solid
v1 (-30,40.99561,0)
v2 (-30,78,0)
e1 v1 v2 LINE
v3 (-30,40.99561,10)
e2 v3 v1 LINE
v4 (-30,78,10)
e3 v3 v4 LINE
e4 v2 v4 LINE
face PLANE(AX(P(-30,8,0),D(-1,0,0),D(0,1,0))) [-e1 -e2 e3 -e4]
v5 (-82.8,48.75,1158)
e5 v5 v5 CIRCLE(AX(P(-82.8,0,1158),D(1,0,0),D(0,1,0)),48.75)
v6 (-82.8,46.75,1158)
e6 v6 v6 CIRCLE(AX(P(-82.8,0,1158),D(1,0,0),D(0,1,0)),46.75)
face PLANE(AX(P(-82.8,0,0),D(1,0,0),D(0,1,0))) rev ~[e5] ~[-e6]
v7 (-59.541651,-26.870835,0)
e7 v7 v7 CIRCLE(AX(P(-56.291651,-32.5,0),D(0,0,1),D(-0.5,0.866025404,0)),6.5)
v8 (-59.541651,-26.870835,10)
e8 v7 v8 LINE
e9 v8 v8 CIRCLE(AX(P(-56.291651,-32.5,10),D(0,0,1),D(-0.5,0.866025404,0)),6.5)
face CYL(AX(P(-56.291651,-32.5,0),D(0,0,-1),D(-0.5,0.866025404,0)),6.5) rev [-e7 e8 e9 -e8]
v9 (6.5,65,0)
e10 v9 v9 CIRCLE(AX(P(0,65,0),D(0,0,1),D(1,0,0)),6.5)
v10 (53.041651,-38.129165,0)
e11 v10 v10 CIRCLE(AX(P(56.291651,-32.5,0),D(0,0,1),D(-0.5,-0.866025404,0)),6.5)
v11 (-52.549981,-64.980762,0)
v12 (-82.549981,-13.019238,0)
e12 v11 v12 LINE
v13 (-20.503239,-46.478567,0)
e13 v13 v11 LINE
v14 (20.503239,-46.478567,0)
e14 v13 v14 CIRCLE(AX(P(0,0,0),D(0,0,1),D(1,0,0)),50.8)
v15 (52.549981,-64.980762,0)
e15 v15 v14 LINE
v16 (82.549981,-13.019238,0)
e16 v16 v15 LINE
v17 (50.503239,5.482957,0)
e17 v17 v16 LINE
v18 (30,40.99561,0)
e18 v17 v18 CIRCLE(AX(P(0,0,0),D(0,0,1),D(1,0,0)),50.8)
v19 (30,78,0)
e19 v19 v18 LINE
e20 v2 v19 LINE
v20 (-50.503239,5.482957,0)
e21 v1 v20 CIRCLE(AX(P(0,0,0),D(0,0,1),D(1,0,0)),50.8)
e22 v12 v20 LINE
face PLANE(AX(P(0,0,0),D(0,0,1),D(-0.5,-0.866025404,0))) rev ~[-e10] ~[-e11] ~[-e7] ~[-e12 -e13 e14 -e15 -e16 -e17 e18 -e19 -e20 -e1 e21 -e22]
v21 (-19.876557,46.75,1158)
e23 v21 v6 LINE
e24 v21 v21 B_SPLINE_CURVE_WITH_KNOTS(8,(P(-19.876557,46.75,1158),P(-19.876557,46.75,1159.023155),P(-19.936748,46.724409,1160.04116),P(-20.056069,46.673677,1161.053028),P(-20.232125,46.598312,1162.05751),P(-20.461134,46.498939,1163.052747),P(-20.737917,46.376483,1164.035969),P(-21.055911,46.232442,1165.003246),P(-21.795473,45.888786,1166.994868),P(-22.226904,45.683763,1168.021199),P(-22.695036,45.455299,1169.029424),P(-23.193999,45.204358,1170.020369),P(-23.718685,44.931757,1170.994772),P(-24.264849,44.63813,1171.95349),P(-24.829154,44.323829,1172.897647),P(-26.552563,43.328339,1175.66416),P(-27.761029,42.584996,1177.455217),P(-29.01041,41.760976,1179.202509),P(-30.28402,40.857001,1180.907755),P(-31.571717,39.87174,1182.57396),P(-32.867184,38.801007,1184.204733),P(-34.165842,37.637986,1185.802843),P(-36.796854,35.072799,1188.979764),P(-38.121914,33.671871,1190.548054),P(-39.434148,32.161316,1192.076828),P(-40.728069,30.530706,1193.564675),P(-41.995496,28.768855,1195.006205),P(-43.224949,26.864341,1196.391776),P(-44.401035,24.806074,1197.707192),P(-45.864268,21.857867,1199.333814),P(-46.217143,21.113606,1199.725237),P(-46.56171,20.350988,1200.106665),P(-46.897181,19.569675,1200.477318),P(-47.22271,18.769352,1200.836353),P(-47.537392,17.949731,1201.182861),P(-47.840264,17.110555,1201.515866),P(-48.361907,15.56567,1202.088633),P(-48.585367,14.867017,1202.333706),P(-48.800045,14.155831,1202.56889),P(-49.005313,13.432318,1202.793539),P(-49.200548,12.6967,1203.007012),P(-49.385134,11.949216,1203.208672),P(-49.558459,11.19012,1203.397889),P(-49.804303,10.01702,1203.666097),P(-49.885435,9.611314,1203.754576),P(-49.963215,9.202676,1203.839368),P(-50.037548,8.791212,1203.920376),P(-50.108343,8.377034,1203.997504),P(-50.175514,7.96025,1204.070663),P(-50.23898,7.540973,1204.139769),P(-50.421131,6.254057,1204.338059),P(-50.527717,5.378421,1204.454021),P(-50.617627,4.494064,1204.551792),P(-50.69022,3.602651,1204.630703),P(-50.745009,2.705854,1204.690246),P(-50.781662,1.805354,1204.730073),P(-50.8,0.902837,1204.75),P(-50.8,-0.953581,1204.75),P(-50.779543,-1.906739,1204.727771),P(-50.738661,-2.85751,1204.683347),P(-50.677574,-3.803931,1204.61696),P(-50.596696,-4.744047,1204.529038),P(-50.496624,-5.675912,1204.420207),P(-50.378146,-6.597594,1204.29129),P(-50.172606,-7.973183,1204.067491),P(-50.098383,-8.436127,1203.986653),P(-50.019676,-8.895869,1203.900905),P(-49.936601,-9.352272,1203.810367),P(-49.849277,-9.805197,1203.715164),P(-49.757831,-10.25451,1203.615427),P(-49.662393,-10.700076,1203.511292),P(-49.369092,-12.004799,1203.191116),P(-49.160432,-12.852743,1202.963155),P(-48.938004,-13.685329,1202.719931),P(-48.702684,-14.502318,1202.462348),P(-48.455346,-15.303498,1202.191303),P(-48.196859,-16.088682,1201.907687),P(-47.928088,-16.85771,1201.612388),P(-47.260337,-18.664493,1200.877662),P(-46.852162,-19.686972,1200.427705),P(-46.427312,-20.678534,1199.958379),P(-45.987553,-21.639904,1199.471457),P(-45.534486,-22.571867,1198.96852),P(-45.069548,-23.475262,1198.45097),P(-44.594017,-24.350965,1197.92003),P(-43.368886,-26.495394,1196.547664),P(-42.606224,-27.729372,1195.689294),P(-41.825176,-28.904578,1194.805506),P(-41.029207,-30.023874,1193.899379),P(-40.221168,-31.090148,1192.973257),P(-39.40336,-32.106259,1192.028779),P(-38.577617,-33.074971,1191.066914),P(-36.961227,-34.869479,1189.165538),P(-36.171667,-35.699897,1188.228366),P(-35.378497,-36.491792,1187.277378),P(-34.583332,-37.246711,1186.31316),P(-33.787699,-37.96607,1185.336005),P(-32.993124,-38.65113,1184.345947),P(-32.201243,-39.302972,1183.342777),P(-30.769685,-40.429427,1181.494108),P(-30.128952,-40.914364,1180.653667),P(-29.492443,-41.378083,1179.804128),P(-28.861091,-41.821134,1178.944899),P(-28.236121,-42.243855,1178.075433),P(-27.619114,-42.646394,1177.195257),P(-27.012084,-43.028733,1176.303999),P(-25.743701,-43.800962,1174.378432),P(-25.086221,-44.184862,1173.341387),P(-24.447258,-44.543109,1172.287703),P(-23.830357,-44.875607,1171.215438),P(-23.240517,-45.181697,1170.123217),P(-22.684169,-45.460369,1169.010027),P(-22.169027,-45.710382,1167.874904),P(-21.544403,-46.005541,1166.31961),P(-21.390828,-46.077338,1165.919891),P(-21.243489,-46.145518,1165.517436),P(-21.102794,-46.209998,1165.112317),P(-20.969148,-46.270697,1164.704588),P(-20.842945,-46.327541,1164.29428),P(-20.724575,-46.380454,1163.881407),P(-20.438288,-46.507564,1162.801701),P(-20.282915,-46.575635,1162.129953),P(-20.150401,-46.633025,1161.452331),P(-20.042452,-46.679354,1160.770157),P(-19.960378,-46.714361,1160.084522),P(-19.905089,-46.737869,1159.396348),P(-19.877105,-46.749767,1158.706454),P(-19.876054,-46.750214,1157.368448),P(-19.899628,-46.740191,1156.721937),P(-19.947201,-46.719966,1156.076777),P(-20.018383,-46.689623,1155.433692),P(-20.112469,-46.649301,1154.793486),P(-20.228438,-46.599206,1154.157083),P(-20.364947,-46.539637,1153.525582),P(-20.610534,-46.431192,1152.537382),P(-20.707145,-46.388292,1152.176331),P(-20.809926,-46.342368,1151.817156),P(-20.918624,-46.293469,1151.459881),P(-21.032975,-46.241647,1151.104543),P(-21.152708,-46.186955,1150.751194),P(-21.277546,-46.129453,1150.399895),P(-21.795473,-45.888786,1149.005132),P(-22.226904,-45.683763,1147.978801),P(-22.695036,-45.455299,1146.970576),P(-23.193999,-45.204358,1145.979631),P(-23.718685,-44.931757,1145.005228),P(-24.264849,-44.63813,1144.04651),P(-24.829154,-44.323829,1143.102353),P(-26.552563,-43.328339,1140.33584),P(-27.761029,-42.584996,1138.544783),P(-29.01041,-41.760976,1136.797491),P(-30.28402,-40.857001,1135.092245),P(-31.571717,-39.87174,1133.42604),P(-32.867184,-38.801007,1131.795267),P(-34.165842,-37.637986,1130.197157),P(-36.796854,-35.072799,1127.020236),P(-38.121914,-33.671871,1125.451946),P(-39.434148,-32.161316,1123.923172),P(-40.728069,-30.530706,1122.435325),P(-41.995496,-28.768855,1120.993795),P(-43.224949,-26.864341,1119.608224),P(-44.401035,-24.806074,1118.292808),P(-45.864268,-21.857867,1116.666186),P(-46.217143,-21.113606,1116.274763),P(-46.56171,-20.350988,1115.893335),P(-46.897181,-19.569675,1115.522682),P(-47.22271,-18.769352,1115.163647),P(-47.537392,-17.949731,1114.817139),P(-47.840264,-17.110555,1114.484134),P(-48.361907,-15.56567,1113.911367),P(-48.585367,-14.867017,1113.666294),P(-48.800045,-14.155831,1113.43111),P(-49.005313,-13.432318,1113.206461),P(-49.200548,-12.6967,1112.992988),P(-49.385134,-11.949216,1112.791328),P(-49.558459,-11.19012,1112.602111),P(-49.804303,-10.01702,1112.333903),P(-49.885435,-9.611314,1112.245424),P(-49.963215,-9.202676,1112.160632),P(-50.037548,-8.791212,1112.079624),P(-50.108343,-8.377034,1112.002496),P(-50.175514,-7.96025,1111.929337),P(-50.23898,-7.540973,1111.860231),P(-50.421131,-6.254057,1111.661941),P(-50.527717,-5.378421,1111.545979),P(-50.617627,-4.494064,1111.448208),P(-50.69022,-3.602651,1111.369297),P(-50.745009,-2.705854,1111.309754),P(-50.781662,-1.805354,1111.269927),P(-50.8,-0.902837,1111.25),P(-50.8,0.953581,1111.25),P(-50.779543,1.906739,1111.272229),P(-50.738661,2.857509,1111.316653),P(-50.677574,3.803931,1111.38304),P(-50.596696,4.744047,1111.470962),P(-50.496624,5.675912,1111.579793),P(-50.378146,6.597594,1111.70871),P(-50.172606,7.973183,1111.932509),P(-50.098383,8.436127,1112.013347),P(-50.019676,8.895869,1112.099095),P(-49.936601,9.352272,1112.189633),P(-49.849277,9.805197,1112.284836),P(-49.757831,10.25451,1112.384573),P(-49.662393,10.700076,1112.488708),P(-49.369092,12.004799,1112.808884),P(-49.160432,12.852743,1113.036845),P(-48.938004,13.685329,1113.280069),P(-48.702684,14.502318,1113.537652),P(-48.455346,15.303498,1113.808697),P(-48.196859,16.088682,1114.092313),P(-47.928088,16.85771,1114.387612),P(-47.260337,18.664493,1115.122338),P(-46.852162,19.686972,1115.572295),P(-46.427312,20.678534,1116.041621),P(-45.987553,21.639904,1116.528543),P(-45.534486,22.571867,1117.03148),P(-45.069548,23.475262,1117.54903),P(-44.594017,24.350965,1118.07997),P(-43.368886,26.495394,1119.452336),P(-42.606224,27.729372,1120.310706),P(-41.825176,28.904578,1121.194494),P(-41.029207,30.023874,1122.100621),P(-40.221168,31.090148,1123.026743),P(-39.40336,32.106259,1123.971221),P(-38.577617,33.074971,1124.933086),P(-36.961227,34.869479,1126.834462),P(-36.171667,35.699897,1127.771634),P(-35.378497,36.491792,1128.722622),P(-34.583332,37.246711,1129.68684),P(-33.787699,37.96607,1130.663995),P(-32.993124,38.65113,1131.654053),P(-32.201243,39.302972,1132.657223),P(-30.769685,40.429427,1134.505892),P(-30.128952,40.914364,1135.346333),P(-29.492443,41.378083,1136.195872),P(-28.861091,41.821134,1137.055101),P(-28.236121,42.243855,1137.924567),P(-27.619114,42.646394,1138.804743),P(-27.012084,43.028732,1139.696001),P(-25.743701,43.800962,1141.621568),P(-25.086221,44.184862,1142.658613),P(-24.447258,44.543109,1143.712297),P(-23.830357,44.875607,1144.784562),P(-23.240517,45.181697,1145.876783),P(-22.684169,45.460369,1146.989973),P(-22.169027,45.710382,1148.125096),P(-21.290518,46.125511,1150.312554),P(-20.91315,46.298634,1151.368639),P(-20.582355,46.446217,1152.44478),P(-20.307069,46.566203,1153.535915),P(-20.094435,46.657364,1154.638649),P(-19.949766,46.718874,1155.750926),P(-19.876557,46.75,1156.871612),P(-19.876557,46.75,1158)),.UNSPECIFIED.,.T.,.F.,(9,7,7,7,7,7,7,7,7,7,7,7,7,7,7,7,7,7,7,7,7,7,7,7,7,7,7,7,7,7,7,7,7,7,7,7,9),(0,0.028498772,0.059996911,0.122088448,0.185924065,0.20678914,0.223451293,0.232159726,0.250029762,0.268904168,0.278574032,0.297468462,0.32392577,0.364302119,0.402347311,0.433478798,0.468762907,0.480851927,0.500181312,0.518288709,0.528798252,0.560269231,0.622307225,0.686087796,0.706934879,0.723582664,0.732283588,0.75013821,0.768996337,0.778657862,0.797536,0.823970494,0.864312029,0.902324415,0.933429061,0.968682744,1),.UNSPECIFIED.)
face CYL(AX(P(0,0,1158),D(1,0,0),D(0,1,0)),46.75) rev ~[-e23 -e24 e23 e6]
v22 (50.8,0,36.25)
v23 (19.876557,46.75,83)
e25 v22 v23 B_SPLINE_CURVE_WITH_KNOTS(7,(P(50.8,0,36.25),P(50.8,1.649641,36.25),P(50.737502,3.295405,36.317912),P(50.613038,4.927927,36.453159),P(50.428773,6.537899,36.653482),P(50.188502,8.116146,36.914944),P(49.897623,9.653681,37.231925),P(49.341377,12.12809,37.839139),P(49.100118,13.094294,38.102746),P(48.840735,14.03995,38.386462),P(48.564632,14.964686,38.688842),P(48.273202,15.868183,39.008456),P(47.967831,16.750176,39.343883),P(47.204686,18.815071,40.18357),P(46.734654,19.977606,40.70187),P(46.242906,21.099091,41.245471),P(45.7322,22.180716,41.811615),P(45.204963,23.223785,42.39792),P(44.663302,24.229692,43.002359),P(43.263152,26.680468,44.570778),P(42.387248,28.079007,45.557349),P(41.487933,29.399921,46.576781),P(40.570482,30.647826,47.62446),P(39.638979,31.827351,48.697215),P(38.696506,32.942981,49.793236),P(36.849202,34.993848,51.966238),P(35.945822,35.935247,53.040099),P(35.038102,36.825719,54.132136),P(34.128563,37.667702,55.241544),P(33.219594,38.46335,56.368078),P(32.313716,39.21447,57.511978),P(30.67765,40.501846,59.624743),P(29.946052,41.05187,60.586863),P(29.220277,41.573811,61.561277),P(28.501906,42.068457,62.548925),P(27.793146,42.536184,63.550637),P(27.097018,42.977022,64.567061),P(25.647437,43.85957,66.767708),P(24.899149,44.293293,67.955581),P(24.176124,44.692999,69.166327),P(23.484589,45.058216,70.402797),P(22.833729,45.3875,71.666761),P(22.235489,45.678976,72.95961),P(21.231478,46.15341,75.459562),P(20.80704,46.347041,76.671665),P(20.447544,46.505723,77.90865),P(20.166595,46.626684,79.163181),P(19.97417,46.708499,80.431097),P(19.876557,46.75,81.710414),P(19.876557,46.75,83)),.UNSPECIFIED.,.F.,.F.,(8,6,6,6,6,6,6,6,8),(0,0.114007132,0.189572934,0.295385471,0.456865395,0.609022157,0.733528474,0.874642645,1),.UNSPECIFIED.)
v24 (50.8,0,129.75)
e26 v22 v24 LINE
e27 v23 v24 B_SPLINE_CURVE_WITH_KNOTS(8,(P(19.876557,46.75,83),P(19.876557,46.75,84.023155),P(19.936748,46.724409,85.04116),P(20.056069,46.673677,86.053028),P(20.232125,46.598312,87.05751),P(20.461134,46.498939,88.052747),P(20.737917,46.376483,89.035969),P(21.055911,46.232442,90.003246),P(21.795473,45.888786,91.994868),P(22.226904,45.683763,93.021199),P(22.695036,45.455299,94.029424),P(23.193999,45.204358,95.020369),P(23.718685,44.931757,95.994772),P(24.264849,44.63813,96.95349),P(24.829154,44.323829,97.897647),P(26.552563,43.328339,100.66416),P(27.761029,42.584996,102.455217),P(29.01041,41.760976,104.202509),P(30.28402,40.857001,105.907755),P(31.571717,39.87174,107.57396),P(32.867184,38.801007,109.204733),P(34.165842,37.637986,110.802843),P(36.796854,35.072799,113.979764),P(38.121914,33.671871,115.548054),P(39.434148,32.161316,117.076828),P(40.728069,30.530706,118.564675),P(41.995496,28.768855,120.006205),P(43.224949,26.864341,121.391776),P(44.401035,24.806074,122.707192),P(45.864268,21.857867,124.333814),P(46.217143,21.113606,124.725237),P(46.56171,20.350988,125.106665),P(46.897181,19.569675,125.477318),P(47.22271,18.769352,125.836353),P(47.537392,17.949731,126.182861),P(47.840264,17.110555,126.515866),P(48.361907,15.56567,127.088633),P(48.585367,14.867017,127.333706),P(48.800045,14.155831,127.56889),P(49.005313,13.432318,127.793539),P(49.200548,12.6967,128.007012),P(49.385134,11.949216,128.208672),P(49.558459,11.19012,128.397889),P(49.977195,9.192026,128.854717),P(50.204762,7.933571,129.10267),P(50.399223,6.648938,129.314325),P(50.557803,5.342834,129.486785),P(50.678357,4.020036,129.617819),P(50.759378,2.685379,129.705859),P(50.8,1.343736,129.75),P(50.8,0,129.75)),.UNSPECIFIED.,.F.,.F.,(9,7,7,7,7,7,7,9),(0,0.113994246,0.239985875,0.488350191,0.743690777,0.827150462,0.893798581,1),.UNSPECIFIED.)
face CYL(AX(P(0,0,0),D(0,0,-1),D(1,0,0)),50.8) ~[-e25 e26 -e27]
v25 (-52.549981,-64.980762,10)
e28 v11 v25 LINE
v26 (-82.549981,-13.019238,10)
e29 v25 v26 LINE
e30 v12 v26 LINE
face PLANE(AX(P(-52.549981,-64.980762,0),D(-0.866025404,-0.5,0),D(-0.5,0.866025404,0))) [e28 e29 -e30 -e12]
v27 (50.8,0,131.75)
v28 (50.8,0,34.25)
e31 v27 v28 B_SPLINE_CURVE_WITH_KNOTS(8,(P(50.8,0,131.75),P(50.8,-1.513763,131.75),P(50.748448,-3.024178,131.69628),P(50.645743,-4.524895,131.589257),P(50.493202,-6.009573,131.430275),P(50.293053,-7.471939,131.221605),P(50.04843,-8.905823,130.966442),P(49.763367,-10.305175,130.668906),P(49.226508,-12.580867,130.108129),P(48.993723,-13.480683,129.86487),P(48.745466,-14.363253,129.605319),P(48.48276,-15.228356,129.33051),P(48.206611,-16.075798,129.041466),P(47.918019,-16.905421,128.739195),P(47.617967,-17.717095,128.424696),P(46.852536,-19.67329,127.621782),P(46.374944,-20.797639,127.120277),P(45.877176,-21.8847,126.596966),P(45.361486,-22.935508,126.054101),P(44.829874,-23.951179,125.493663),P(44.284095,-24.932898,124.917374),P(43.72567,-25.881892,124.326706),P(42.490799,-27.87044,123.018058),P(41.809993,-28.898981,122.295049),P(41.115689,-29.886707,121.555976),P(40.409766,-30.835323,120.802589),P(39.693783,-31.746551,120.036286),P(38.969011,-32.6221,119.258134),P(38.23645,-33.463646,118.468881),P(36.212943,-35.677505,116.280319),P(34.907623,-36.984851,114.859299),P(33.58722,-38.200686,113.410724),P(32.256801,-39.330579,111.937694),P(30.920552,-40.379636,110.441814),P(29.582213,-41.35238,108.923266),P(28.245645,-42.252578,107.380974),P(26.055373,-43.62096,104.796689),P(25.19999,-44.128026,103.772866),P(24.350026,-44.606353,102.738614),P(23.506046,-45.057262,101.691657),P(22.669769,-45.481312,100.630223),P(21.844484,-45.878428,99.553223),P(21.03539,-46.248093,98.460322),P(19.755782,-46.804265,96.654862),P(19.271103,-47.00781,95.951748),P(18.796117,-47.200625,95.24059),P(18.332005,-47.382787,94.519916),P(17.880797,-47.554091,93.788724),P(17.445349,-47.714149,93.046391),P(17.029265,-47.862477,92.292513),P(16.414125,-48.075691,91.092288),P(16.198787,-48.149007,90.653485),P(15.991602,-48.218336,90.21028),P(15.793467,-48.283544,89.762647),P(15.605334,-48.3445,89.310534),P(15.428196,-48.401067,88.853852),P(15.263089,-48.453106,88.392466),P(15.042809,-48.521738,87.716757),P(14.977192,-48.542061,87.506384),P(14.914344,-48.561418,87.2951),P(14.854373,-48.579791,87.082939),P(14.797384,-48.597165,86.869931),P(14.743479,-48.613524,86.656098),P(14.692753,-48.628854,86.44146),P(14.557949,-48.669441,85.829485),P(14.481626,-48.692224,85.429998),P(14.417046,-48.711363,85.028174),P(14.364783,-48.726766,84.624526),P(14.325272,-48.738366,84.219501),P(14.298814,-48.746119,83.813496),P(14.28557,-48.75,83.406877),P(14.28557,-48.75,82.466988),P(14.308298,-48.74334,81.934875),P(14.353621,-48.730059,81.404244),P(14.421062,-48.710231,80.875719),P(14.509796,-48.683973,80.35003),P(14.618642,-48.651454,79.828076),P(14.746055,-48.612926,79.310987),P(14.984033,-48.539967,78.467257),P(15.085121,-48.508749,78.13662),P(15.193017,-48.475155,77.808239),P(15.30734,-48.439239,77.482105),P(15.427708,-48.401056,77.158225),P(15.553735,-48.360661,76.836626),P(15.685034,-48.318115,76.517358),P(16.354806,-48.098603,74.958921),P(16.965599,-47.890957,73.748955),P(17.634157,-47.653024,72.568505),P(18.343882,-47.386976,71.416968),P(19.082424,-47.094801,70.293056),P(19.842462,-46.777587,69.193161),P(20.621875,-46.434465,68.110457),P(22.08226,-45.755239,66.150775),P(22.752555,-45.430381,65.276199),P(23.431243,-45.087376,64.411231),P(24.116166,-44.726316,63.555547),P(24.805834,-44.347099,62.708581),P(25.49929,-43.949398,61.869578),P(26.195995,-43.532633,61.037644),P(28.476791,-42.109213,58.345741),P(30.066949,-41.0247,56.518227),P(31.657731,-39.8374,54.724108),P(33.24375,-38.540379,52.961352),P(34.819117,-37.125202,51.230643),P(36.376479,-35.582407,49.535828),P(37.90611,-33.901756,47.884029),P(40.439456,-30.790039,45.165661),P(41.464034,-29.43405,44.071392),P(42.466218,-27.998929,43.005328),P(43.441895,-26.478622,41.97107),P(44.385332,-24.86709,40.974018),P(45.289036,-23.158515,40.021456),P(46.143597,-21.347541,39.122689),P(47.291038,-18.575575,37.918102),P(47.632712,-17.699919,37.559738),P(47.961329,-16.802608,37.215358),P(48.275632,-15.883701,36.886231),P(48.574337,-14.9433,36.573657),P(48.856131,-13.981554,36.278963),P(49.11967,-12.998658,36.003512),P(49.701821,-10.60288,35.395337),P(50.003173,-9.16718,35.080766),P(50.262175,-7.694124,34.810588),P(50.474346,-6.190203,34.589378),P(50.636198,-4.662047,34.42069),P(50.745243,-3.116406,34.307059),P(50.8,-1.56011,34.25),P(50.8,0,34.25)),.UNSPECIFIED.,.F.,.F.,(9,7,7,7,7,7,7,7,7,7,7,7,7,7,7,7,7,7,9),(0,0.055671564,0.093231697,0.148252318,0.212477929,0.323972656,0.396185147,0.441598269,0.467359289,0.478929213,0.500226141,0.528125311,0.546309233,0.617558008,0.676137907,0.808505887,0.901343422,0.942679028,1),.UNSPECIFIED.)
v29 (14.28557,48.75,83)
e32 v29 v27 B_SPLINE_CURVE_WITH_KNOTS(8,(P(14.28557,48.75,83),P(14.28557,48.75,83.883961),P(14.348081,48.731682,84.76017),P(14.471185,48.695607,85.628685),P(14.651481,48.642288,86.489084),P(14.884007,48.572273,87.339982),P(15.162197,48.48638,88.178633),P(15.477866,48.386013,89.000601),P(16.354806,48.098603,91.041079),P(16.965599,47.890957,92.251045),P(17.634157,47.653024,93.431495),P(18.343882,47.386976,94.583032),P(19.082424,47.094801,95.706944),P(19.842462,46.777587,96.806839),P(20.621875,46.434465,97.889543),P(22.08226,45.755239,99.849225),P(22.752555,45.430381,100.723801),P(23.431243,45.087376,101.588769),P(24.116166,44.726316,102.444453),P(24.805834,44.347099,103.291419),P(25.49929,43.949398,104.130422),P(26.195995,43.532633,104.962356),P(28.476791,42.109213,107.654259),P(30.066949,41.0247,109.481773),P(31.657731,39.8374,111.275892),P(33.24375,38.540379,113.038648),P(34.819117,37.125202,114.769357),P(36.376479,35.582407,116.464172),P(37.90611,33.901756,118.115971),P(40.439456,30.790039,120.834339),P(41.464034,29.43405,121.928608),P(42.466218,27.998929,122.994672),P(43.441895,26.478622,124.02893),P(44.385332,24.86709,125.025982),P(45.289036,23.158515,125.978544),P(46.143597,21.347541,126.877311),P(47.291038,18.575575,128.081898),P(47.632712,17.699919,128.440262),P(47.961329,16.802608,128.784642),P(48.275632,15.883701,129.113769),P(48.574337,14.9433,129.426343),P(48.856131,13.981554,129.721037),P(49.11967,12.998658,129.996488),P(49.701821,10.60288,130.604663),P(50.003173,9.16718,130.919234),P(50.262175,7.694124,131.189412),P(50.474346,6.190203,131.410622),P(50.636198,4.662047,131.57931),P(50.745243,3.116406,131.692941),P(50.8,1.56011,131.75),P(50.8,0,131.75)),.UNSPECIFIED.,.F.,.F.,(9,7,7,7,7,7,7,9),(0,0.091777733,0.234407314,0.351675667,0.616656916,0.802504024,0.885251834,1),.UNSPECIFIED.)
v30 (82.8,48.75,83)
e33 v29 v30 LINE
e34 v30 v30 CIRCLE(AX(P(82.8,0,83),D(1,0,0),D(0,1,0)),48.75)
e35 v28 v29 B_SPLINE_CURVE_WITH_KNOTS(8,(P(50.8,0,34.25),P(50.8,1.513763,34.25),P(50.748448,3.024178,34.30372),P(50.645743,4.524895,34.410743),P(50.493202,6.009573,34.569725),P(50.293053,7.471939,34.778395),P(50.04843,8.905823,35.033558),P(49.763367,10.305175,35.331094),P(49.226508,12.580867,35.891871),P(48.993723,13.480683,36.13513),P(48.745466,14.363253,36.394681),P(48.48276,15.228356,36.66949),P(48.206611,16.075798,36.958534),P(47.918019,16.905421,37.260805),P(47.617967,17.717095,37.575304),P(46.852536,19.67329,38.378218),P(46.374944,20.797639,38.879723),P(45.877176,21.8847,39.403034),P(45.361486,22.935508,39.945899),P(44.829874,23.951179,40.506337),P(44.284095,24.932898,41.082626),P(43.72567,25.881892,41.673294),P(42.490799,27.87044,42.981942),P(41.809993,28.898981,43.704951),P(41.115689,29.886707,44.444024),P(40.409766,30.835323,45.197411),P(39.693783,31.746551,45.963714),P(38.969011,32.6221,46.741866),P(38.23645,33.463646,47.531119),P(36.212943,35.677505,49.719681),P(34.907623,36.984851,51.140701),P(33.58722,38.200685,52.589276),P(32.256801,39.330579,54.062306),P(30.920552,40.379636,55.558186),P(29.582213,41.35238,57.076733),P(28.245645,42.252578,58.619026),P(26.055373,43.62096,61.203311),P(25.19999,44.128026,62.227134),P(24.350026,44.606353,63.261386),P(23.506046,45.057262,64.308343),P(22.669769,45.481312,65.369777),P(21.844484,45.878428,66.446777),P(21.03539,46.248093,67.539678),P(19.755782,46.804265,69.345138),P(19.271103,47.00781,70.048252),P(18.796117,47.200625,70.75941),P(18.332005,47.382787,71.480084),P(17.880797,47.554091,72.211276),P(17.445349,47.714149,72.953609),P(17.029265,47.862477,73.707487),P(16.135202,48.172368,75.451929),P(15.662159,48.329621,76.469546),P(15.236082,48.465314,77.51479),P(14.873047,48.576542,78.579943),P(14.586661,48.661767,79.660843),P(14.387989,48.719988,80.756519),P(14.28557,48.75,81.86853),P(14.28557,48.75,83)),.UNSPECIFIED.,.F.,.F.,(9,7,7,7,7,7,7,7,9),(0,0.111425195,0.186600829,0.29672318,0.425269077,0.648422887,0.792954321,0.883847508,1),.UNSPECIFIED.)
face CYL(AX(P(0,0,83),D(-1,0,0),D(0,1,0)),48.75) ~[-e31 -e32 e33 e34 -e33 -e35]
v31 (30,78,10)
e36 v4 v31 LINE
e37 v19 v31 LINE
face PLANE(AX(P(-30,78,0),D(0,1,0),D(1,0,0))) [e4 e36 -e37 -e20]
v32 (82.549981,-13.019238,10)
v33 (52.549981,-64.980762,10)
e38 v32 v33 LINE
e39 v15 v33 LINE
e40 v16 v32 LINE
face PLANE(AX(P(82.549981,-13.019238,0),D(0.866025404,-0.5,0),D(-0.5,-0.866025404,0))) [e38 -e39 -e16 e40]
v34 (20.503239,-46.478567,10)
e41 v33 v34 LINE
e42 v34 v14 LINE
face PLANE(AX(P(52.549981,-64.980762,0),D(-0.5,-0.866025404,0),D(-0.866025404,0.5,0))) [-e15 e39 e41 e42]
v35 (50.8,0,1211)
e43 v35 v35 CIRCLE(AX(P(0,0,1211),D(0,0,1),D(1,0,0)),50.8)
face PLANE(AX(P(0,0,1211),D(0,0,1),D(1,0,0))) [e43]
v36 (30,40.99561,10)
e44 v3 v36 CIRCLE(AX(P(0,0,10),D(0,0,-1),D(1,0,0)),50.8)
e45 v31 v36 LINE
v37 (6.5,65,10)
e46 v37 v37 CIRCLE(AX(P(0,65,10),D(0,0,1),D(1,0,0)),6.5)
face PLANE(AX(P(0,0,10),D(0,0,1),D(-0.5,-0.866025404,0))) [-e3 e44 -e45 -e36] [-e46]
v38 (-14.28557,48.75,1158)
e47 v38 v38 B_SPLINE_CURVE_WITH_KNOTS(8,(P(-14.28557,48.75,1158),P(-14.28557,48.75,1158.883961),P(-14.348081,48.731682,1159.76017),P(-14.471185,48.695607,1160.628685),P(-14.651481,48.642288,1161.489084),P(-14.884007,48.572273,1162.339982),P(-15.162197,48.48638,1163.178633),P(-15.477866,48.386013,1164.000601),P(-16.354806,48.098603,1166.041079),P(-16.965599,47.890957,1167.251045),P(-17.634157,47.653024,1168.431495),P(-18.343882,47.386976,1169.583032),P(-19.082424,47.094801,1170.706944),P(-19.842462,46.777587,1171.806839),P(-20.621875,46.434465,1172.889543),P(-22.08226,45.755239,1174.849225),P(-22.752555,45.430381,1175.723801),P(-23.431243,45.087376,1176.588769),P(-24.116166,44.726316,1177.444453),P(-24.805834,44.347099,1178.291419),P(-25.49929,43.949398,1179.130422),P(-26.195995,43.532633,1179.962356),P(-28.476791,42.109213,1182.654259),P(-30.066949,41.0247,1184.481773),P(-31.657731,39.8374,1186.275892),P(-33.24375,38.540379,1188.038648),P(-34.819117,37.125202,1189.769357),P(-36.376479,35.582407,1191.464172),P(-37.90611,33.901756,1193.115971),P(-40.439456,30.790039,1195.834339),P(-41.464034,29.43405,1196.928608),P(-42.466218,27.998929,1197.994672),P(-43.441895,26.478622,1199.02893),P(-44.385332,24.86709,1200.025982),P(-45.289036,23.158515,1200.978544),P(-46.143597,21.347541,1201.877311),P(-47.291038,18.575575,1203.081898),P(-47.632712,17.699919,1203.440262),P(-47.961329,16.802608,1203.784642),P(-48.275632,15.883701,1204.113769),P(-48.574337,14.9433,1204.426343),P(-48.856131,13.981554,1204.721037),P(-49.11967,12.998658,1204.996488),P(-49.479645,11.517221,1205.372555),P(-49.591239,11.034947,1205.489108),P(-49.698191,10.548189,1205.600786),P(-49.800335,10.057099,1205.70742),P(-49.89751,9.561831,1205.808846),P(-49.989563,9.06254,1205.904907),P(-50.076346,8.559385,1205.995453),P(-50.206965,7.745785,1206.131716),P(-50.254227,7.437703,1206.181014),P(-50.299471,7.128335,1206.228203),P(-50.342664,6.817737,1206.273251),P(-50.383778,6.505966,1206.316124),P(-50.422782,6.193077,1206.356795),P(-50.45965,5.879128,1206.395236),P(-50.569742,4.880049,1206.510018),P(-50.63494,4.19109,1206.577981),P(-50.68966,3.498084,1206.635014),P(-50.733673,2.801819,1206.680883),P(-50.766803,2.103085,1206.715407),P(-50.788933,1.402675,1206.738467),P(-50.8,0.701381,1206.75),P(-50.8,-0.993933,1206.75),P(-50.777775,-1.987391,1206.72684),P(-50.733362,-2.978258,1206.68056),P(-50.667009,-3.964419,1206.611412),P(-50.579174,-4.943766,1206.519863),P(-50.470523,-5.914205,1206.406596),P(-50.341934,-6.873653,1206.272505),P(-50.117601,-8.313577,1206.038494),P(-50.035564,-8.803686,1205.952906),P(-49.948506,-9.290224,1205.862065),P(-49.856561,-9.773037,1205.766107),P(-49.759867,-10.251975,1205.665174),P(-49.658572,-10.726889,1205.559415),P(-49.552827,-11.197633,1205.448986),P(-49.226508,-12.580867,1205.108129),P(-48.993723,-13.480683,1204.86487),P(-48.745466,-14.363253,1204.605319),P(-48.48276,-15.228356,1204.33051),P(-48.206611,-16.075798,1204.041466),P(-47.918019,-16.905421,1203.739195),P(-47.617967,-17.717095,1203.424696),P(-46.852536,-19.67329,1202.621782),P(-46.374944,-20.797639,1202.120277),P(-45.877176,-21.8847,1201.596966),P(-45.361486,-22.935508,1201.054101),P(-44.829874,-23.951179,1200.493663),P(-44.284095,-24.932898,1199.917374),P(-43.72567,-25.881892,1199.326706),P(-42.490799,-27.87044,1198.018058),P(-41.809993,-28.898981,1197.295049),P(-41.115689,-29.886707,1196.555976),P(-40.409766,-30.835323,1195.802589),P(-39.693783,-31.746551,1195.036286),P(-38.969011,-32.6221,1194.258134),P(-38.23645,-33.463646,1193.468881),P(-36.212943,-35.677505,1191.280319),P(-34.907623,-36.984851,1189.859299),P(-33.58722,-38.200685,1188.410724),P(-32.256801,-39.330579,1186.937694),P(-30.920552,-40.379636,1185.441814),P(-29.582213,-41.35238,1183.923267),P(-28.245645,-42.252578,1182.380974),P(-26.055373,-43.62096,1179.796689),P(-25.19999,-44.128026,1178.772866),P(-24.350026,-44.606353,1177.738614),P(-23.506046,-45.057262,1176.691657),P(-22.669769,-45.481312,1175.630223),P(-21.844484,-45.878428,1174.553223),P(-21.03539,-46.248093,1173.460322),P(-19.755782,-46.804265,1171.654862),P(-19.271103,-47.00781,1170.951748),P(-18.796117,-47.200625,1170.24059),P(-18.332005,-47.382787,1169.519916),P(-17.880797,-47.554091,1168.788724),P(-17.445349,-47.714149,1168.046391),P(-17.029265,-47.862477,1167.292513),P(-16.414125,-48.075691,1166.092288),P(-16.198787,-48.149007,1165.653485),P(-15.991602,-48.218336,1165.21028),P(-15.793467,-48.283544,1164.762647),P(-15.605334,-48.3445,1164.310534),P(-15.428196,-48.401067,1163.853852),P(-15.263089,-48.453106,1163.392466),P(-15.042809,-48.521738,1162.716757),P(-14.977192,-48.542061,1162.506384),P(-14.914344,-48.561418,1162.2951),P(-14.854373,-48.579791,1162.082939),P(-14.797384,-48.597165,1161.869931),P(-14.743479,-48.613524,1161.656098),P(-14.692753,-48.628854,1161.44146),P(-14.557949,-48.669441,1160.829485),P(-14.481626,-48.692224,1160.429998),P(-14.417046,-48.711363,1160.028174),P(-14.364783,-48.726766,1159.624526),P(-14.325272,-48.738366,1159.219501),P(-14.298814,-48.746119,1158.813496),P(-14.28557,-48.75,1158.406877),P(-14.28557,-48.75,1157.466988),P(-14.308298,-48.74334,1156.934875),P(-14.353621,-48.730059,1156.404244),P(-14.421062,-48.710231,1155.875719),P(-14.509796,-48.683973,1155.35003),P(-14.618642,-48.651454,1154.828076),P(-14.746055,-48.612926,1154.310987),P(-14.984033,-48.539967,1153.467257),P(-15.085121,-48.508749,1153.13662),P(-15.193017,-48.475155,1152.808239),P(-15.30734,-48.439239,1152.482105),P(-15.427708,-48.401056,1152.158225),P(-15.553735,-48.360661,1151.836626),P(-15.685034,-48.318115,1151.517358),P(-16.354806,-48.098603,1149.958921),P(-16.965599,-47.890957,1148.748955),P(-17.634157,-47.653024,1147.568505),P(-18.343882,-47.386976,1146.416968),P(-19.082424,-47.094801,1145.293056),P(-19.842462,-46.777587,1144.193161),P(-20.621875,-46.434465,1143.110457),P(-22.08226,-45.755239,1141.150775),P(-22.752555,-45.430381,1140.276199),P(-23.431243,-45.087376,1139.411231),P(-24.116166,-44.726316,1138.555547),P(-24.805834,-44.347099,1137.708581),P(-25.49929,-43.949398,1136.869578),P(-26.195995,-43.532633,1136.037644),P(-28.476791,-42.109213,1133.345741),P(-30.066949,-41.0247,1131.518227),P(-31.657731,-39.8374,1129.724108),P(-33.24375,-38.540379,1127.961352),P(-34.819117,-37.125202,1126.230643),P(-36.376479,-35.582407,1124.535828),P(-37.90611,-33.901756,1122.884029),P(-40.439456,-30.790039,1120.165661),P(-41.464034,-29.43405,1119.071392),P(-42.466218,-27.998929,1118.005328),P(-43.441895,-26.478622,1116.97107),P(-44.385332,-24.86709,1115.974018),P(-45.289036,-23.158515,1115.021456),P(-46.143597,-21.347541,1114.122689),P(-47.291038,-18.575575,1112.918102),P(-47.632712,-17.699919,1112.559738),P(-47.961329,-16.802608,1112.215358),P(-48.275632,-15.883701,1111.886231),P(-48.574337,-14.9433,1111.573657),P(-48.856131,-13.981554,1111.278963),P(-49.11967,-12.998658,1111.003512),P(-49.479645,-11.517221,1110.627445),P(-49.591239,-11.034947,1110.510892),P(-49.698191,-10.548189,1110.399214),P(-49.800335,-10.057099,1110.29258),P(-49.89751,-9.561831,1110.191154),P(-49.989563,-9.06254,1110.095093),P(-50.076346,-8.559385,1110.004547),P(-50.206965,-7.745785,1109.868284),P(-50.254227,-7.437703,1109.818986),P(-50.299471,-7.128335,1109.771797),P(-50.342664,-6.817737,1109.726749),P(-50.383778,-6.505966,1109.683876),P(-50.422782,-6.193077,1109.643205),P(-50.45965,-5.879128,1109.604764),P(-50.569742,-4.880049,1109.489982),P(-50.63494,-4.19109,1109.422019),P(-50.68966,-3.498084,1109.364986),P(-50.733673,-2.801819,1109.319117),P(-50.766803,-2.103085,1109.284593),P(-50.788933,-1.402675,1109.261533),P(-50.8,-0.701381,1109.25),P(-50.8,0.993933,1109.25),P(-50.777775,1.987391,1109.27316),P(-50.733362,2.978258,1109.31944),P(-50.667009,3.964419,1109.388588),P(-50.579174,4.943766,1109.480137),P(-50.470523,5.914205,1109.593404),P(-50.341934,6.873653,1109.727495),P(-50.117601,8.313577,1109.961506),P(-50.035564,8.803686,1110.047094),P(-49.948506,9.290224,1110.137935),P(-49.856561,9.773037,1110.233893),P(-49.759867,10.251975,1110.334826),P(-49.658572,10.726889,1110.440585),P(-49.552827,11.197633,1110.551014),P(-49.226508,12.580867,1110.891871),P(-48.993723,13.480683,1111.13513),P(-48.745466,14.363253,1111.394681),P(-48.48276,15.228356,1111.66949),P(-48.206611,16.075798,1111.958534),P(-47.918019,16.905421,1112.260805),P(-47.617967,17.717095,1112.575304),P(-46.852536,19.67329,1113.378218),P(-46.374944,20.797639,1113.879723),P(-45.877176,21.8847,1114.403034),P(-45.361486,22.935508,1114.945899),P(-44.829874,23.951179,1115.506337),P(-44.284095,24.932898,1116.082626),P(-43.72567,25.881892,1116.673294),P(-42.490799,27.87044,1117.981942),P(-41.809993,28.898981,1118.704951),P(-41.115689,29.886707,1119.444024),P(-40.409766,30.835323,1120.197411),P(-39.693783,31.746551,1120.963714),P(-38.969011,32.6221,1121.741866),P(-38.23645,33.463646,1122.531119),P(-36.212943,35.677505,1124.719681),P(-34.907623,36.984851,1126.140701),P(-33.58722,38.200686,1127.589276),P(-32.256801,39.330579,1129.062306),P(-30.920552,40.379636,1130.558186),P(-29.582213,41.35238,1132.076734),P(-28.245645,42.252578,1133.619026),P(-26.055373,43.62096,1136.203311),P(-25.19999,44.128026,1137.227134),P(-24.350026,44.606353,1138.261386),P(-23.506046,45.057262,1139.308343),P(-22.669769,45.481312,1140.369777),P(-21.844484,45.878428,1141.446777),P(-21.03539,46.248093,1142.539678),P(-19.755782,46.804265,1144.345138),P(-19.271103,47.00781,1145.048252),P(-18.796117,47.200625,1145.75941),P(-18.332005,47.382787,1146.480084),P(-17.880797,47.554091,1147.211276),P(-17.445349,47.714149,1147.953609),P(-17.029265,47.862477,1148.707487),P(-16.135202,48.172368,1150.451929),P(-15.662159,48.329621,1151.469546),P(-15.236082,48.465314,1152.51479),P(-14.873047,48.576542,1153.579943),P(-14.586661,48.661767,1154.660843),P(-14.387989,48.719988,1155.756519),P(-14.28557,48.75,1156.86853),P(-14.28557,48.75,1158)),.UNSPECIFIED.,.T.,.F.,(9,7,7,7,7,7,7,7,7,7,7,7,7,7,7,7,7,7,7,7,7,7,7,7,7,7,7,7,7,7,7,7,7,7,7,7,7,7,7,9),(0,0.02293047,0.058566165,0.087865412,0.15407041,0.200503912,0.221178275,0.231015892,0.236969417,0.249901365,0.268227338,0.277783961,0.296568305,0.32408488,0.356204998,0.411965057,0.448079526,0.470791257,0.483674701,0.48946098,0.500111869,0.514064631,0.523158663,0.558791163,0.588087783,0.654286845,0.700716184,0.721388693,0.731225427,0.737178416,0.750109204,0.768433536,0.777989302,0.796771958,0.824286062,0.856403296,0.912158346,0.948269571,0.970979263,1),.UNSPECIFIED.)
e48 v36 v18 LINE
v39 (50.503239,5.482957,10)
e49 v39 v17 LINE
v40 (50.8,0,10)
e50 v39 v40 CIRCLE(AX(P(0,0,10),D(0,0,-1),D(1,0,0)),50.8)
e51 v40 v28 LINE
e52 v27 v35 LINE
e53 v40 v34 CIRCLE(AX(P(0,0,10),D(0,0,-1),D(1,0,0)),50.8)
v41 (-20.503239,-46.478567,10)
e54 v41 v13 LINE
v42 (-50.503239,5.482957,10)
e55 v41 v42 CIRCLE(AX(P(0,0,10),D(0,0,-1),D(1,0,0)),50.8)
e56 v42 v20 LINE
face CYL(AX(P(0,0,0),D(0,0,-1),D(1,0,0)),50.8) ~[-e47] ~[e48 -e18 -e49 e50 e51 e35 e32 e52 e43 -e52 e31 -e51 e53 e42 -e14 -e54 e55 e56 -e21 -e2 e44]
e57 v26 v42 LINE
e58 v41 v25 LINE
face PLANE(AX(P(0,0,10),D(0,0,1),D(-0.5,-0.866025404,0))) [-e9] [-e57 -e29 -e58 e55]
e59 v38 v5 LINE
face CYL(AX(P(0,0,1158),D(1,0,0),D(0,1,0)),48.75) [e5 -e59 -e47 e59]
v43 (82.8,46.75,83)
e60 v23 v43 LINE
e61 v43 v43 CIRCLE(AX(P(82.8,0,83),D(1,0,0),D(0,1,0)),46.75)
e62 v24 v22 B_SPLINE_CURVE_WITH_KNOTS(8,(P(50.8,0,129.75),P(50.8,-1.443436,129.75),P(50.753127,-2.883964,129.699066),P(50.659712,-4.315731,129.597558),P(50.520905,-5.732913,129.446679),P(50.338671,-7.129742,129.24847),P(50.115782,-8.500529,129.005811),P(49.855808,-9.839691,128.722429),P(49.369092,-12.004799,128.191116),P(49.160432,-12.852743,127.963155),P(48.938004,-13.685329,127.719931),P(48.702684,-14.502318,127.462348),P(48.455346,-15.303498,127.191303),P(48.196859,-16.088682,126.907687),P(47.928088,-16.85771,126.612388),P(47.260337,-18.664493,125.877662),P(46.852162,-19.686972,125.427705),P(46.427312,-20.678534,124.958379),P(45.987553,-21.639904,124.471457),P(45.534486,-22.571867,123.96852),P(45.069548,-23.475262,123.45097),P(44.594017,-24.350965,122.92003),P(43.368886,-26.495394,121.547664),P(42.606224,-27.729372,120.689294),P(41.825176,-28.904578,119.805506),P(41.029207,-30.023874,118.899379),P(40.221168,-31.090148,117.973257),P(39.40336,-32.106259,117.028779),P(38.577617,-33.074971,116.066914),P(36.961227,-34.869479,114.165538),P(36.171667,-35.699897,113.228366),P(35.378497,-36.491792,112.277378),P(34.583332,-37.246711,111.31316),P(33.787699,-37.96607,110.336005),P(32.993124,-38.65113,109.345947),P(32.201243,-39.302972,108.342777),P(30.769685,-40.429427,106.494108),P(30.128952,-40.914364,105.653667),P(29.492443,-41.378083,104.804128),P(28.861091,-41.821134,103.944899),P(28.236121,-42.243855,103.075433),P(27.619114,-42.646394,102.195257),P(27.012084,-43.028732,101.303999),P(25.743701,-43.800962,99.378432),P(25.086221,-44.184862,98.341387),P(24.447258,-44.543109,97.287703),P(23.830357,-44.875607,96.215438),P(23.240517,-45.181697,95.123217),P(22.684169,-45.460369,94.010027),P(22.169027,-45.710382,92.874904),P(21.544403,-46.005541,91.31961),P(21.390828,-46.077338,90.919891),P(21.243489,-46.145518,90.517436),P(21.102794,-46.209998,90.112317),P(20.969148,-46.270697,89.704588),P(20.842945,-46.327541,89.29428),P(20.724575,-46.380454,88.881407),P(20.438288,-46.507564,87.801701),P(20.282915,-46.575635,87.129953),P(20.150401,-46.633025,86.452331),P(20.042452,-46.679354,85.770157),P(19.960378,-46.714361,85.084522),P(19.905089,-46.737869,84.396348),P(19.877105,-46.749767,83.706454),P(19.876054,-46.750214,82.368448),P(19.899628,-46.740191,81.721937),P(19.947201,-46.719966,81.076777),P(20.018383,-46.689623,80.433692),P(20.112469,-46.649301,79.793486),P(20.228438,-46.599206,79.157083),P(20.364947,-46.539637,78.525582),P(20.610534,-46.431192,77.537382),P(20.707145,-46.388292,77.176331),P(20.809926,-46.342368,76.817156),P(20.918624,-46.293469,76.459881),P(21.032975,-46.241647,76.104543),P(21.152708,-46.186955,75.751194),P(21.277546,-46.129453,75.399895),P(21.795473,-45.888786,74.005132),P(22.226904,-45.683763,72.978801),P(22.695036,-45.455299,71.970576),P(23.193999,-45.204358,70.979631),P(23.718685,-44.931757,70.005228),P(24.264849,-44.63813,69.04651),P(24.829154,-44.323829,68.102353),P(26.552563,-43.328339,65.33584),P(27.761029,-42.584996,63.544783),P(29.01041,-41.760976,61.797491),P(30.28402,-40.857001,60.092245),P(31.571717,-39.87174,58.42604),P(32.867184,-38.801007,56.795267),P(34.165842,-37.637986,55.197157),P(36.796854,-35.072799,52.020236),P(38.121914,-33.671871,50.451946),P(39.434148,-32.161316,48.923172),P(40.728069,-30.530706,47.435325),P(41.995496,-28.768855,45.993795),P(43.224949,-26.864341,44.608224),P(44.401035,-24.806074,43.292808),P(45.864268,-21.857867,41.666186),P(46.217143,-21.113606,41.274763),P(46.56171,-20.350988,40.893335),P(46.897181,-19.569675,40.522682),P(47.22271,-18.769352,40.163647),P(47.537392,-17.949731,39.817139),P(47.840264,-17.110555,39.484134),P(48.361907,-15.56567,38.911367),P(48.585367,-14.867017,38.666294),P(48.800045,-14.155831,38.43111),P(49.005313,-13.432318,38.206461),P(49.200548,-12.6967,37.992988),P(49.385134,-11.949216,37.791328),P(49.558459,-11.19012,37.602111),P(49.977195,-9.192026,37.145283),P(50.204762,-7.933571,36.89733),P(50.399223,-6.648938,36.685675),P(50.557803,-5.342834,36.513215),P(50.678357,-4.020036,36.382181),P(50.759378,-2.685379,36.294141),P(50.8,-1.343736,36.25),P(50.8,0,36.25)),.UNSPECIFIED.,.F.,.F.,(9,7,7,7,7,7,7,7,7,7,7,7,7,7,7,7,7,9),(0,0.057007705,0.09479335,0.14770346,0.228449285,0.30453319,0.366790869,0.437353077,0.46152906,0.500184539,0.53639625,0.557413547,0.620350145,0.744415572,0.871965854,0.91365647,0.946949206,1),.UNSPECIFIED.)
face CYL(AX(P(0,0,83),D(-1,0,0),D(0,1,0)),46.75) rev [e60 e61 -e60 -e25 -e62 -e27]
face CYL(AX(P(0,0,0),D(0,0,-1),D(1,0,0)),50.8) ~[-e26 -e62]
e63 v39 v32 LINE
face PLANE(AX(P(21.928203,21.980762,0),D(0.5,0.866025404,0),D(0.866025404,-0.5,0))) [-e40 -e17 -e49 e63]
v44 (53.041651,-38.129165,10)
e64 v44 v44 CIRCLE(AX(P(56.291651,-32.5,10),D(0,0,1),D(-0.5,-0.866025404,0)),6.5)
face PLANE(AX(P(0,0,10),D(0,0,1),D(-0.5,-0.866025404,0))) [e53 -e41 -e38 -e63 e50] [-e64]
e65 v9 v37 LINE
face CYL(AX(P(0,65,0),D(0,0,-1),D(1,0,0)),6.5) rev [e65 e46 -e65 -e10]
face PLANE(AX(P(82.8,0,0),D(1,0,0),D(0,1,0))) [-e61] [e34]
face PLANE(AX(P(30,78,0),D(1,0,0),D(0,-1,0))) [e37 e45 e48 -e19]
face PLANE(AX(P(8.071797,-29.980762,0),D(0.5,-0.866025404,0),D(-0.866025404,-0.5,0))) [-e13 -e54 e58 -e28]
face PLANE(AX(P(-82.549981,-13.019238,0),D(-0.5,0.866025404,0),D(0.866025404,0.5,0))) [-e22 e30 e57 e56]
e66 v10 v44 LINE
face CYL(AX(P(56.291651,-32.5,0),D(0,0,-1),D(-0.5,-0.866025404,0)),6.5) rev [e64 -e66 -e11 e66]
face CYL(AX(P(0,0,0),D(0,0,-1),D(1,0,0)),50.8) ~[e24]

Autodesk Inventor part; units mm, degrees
ref_plane "YZ Plane" through (0, 0, 0) normal (1, 0, 0) x (0, 1, 0)
ref_plane "XZ Plane" through (0, 0, 0) normal (0, 1, 0) x (-1, 0, 0)
ref_plane "XY Plane" through (0, 0, 0) normal (0, 0, 1) x (1, 0, 0)
sketch "Sketch1" plane through (0, 0, 0) normal (0, 0, 1) x (1, 0, 0)
  line L0 (-30, 78) -> (30, 78)
  line L1 (30, 78) -> (30, 8)
  line L2 (30, 8) -> (-30, 8)
  line L3 (-30, 8) -> (-30, 78)
  line L4 (119.0409, 377.068) -> (884.0572, 377.068) construction
  line L5 (884.0572, 377.068) -> (884.0572, -61.283) construction
  line L6 (884.0572, -61.283) -> (119.0409, -61.283) construction
  line L7 (119.0409, -61.283) -> (119.0409, 377.068) construction
  line L8 (528.2997, 310.003) -> (528.2997, 129.9198)
  line L9 (528.2997, 219.9614) -> (642.893, 286.807)
  circle A0 centre (0, 65) radius 6.5
  point P0 (0, 0)
  point P1 (0, 8)
  point P2 (0, 78)
  dimension "d9" = 60
  dimension "d10" = 70
  dimension "d13" = 78
  dimension "d14" = 13
  dimension "d15" = 13
extrude "Extrusion1" add sketch "Sketch1" along normal blind 10
pattern_circular "Circular Pattern1" count 3 over 360 about axis through (0, 0, -10) along (0, 0, 1) of "Extrusion1"
sketch "Sketch2" plane through (0, 0, 0) normal (0, 0, 1) x (1, 0, 0)
  circle A0 centre (0, 0) radius 50.8
  dimension "d21" = 101.6
extrude "Extrusion2" add sketch "Sketch2" along normal blind 1211
sketch "Sketch3" plane through (0, 0, 0) normal (1, 0, 0) x (0, 1, 0)
  circle A0 centre (0, 83) radius 48.75
  circle A1 centre (0, 83) radius 46.75
  point P0 (0, 0)
  dimension "d24" = 97.5
  dimension "d25" = 83
  dimension "d112" = 2
extrude "Extrusion3" add sketch "Sketch3" along normal blind 82.8
sketch "Sketch4" plane through (0, 0, 0) normal (1, 0, 0) x (0, 1, 0)
  circle A0 centre (0, 1158) radius 48.75
  line L0 (508.6061, 725.4056) -> (1697.4131, 725.4056) construction
  line L1 (1697.4131, 725.4056) -> (1697.4131, 178.9914) construction
  line L2 (1697.4131, 178.9914) -> (508.6061, 178.9914) construction
  line L3 (508.6061, 178.9914) -> (508.6061, 725.4056) construction
  line L4 (1437.8763, 515.5441) -> (1697.4131, 515.5441)
  line L5 (1697.4131, 515.5441) -> (1697.4131, 335.5441)
  line L6 (1697.4131, 335.5441) -> (1437.8763, 335.5441)
  line L7 (1437.8763, 335.5441) -> (1437.8763, 515.5441)
  line L8 (1526.1756, 486.7469) -> (1616.156, 486.7469)
  line L9 (40.9956, 0) -> (40.9956, 10) projected
  line L10 (40.9956, 0) -> (5.483, 0) projected
  line L11 (5.483, 10) -> (5.483, 0) projected
  line L12 (-46.4786, 10) -> (5.483, 10) projected
  line L13 (-46.4786, 0) -> (-46.4786, 10) projected
  line L14 (-46.4786, 0) -> (-46.4786, 0) projected
  line L15 (-46.4786, 10) -> (-46.4786, 0) projected
  line L16 (5.483, 10) -> (-46.4786, 10) projected
  line L17 (5.483, 0) -> (5.483, 10) projected
  line L18 (5.483, 0) -> (40.9956, 0) projected
  line L19 (40.9956, 10) -> (40.9956, 0) projected
  line L20 (40.9956, 10) -> (40.9956, 10) projected
  line L21 (50.8, 1211) -> (-50.8, 1211) projected
  circle A1 centre (0, 1158) radius 46.75
  line L22 (78, 0) -> (40.9956, 0) projected
  point P0 (0, 0)
  point P1 (48.75, 83)
  dimension "d28" = 97.5
  dimension "d71" = 180
  dimension "d90" = 89.9804
  dimension "d93" = 53
  dimension "d103" = 2
  dimension "d114" = 1158
extrude "Extrusion4" add sketch "Sketch4" against normal blind 82.8 contours A0
sketch "Sketch5" plane through (-82.8, 0, 1158) normal (-1, 0, 0) x (0, 0, 1)
  circle A0 centre (0, 0) radius 48.75 projected
  circle A1 centre (0, 0) radius 110
  circle A2 centre (0, 0) radius 90 construction
  circle A3 centre (90, 0) radius 8
  circle A4 centre (63.6396, 63.6396) radius 8
  circle A5 centre (0, 90) radius 8
  circle A6 centre (-63.6396, 63.6396) radius 8
  circle A7 centre (-90, 0) radius 8
  circle A8 centre (-63.6396, -63.6396) radius 8
  circle A9 centre (0, -90) radius 8
  circle A10 centre (63.6396, -63.6396) radius 8
  point P0 (-1158, 0)
  dimension "d95" = 180
  dimension "d94" = 220
  dimension "d96" = 16
  dimension "d99" = 360
extrude "Extrusion5" [suppressed]
sketch "Sketch6" plane through (82.8, 0, 83) normal (1, 0, 0) x (0, 0, -1)
  circle A0 centre (0, 0) radius 110
  circle A1 centre (0, 0) radius 90 construction
  circle A2 centre (-90, 0) radius 8
  circle A3 centre (-63.6396, -63.6396) radius 8
  circle A4 centre (0, -90) radius 8
  circle A5 centre (63.6396, -63.6396) radius 8
  circle A6 centre (90, 0) radius 8
  circle A7 centre (63.6396, 63.6396) radius 8
  circle A8 centre (0, 90) radius 8
  circle A9 centre (-63.6396, 63.6396) radius 8
  circle A10 centre (0, 0) radius 48.75 projected
  point P0 (83, 0)
  dimension "d107" = 180
  dimension "d106" = 220
  dimension "d108" = 16
  dimension "d109" = 360
extrude "Extrusion6" [suppressed]
equation "\"d21\" = main_diameter"
equation "\"d22\" = main_height"
equation "\"d24\" = connect_pipe"
equation "\"d28\" = connect_pipe"
equation "\"main_height\" = 1211"
equation "\"connect_pipe\" = 97.5"
equation "\"main_diameter\" = 101.6"
properties part number "UV-Cleaner ODV-15"
